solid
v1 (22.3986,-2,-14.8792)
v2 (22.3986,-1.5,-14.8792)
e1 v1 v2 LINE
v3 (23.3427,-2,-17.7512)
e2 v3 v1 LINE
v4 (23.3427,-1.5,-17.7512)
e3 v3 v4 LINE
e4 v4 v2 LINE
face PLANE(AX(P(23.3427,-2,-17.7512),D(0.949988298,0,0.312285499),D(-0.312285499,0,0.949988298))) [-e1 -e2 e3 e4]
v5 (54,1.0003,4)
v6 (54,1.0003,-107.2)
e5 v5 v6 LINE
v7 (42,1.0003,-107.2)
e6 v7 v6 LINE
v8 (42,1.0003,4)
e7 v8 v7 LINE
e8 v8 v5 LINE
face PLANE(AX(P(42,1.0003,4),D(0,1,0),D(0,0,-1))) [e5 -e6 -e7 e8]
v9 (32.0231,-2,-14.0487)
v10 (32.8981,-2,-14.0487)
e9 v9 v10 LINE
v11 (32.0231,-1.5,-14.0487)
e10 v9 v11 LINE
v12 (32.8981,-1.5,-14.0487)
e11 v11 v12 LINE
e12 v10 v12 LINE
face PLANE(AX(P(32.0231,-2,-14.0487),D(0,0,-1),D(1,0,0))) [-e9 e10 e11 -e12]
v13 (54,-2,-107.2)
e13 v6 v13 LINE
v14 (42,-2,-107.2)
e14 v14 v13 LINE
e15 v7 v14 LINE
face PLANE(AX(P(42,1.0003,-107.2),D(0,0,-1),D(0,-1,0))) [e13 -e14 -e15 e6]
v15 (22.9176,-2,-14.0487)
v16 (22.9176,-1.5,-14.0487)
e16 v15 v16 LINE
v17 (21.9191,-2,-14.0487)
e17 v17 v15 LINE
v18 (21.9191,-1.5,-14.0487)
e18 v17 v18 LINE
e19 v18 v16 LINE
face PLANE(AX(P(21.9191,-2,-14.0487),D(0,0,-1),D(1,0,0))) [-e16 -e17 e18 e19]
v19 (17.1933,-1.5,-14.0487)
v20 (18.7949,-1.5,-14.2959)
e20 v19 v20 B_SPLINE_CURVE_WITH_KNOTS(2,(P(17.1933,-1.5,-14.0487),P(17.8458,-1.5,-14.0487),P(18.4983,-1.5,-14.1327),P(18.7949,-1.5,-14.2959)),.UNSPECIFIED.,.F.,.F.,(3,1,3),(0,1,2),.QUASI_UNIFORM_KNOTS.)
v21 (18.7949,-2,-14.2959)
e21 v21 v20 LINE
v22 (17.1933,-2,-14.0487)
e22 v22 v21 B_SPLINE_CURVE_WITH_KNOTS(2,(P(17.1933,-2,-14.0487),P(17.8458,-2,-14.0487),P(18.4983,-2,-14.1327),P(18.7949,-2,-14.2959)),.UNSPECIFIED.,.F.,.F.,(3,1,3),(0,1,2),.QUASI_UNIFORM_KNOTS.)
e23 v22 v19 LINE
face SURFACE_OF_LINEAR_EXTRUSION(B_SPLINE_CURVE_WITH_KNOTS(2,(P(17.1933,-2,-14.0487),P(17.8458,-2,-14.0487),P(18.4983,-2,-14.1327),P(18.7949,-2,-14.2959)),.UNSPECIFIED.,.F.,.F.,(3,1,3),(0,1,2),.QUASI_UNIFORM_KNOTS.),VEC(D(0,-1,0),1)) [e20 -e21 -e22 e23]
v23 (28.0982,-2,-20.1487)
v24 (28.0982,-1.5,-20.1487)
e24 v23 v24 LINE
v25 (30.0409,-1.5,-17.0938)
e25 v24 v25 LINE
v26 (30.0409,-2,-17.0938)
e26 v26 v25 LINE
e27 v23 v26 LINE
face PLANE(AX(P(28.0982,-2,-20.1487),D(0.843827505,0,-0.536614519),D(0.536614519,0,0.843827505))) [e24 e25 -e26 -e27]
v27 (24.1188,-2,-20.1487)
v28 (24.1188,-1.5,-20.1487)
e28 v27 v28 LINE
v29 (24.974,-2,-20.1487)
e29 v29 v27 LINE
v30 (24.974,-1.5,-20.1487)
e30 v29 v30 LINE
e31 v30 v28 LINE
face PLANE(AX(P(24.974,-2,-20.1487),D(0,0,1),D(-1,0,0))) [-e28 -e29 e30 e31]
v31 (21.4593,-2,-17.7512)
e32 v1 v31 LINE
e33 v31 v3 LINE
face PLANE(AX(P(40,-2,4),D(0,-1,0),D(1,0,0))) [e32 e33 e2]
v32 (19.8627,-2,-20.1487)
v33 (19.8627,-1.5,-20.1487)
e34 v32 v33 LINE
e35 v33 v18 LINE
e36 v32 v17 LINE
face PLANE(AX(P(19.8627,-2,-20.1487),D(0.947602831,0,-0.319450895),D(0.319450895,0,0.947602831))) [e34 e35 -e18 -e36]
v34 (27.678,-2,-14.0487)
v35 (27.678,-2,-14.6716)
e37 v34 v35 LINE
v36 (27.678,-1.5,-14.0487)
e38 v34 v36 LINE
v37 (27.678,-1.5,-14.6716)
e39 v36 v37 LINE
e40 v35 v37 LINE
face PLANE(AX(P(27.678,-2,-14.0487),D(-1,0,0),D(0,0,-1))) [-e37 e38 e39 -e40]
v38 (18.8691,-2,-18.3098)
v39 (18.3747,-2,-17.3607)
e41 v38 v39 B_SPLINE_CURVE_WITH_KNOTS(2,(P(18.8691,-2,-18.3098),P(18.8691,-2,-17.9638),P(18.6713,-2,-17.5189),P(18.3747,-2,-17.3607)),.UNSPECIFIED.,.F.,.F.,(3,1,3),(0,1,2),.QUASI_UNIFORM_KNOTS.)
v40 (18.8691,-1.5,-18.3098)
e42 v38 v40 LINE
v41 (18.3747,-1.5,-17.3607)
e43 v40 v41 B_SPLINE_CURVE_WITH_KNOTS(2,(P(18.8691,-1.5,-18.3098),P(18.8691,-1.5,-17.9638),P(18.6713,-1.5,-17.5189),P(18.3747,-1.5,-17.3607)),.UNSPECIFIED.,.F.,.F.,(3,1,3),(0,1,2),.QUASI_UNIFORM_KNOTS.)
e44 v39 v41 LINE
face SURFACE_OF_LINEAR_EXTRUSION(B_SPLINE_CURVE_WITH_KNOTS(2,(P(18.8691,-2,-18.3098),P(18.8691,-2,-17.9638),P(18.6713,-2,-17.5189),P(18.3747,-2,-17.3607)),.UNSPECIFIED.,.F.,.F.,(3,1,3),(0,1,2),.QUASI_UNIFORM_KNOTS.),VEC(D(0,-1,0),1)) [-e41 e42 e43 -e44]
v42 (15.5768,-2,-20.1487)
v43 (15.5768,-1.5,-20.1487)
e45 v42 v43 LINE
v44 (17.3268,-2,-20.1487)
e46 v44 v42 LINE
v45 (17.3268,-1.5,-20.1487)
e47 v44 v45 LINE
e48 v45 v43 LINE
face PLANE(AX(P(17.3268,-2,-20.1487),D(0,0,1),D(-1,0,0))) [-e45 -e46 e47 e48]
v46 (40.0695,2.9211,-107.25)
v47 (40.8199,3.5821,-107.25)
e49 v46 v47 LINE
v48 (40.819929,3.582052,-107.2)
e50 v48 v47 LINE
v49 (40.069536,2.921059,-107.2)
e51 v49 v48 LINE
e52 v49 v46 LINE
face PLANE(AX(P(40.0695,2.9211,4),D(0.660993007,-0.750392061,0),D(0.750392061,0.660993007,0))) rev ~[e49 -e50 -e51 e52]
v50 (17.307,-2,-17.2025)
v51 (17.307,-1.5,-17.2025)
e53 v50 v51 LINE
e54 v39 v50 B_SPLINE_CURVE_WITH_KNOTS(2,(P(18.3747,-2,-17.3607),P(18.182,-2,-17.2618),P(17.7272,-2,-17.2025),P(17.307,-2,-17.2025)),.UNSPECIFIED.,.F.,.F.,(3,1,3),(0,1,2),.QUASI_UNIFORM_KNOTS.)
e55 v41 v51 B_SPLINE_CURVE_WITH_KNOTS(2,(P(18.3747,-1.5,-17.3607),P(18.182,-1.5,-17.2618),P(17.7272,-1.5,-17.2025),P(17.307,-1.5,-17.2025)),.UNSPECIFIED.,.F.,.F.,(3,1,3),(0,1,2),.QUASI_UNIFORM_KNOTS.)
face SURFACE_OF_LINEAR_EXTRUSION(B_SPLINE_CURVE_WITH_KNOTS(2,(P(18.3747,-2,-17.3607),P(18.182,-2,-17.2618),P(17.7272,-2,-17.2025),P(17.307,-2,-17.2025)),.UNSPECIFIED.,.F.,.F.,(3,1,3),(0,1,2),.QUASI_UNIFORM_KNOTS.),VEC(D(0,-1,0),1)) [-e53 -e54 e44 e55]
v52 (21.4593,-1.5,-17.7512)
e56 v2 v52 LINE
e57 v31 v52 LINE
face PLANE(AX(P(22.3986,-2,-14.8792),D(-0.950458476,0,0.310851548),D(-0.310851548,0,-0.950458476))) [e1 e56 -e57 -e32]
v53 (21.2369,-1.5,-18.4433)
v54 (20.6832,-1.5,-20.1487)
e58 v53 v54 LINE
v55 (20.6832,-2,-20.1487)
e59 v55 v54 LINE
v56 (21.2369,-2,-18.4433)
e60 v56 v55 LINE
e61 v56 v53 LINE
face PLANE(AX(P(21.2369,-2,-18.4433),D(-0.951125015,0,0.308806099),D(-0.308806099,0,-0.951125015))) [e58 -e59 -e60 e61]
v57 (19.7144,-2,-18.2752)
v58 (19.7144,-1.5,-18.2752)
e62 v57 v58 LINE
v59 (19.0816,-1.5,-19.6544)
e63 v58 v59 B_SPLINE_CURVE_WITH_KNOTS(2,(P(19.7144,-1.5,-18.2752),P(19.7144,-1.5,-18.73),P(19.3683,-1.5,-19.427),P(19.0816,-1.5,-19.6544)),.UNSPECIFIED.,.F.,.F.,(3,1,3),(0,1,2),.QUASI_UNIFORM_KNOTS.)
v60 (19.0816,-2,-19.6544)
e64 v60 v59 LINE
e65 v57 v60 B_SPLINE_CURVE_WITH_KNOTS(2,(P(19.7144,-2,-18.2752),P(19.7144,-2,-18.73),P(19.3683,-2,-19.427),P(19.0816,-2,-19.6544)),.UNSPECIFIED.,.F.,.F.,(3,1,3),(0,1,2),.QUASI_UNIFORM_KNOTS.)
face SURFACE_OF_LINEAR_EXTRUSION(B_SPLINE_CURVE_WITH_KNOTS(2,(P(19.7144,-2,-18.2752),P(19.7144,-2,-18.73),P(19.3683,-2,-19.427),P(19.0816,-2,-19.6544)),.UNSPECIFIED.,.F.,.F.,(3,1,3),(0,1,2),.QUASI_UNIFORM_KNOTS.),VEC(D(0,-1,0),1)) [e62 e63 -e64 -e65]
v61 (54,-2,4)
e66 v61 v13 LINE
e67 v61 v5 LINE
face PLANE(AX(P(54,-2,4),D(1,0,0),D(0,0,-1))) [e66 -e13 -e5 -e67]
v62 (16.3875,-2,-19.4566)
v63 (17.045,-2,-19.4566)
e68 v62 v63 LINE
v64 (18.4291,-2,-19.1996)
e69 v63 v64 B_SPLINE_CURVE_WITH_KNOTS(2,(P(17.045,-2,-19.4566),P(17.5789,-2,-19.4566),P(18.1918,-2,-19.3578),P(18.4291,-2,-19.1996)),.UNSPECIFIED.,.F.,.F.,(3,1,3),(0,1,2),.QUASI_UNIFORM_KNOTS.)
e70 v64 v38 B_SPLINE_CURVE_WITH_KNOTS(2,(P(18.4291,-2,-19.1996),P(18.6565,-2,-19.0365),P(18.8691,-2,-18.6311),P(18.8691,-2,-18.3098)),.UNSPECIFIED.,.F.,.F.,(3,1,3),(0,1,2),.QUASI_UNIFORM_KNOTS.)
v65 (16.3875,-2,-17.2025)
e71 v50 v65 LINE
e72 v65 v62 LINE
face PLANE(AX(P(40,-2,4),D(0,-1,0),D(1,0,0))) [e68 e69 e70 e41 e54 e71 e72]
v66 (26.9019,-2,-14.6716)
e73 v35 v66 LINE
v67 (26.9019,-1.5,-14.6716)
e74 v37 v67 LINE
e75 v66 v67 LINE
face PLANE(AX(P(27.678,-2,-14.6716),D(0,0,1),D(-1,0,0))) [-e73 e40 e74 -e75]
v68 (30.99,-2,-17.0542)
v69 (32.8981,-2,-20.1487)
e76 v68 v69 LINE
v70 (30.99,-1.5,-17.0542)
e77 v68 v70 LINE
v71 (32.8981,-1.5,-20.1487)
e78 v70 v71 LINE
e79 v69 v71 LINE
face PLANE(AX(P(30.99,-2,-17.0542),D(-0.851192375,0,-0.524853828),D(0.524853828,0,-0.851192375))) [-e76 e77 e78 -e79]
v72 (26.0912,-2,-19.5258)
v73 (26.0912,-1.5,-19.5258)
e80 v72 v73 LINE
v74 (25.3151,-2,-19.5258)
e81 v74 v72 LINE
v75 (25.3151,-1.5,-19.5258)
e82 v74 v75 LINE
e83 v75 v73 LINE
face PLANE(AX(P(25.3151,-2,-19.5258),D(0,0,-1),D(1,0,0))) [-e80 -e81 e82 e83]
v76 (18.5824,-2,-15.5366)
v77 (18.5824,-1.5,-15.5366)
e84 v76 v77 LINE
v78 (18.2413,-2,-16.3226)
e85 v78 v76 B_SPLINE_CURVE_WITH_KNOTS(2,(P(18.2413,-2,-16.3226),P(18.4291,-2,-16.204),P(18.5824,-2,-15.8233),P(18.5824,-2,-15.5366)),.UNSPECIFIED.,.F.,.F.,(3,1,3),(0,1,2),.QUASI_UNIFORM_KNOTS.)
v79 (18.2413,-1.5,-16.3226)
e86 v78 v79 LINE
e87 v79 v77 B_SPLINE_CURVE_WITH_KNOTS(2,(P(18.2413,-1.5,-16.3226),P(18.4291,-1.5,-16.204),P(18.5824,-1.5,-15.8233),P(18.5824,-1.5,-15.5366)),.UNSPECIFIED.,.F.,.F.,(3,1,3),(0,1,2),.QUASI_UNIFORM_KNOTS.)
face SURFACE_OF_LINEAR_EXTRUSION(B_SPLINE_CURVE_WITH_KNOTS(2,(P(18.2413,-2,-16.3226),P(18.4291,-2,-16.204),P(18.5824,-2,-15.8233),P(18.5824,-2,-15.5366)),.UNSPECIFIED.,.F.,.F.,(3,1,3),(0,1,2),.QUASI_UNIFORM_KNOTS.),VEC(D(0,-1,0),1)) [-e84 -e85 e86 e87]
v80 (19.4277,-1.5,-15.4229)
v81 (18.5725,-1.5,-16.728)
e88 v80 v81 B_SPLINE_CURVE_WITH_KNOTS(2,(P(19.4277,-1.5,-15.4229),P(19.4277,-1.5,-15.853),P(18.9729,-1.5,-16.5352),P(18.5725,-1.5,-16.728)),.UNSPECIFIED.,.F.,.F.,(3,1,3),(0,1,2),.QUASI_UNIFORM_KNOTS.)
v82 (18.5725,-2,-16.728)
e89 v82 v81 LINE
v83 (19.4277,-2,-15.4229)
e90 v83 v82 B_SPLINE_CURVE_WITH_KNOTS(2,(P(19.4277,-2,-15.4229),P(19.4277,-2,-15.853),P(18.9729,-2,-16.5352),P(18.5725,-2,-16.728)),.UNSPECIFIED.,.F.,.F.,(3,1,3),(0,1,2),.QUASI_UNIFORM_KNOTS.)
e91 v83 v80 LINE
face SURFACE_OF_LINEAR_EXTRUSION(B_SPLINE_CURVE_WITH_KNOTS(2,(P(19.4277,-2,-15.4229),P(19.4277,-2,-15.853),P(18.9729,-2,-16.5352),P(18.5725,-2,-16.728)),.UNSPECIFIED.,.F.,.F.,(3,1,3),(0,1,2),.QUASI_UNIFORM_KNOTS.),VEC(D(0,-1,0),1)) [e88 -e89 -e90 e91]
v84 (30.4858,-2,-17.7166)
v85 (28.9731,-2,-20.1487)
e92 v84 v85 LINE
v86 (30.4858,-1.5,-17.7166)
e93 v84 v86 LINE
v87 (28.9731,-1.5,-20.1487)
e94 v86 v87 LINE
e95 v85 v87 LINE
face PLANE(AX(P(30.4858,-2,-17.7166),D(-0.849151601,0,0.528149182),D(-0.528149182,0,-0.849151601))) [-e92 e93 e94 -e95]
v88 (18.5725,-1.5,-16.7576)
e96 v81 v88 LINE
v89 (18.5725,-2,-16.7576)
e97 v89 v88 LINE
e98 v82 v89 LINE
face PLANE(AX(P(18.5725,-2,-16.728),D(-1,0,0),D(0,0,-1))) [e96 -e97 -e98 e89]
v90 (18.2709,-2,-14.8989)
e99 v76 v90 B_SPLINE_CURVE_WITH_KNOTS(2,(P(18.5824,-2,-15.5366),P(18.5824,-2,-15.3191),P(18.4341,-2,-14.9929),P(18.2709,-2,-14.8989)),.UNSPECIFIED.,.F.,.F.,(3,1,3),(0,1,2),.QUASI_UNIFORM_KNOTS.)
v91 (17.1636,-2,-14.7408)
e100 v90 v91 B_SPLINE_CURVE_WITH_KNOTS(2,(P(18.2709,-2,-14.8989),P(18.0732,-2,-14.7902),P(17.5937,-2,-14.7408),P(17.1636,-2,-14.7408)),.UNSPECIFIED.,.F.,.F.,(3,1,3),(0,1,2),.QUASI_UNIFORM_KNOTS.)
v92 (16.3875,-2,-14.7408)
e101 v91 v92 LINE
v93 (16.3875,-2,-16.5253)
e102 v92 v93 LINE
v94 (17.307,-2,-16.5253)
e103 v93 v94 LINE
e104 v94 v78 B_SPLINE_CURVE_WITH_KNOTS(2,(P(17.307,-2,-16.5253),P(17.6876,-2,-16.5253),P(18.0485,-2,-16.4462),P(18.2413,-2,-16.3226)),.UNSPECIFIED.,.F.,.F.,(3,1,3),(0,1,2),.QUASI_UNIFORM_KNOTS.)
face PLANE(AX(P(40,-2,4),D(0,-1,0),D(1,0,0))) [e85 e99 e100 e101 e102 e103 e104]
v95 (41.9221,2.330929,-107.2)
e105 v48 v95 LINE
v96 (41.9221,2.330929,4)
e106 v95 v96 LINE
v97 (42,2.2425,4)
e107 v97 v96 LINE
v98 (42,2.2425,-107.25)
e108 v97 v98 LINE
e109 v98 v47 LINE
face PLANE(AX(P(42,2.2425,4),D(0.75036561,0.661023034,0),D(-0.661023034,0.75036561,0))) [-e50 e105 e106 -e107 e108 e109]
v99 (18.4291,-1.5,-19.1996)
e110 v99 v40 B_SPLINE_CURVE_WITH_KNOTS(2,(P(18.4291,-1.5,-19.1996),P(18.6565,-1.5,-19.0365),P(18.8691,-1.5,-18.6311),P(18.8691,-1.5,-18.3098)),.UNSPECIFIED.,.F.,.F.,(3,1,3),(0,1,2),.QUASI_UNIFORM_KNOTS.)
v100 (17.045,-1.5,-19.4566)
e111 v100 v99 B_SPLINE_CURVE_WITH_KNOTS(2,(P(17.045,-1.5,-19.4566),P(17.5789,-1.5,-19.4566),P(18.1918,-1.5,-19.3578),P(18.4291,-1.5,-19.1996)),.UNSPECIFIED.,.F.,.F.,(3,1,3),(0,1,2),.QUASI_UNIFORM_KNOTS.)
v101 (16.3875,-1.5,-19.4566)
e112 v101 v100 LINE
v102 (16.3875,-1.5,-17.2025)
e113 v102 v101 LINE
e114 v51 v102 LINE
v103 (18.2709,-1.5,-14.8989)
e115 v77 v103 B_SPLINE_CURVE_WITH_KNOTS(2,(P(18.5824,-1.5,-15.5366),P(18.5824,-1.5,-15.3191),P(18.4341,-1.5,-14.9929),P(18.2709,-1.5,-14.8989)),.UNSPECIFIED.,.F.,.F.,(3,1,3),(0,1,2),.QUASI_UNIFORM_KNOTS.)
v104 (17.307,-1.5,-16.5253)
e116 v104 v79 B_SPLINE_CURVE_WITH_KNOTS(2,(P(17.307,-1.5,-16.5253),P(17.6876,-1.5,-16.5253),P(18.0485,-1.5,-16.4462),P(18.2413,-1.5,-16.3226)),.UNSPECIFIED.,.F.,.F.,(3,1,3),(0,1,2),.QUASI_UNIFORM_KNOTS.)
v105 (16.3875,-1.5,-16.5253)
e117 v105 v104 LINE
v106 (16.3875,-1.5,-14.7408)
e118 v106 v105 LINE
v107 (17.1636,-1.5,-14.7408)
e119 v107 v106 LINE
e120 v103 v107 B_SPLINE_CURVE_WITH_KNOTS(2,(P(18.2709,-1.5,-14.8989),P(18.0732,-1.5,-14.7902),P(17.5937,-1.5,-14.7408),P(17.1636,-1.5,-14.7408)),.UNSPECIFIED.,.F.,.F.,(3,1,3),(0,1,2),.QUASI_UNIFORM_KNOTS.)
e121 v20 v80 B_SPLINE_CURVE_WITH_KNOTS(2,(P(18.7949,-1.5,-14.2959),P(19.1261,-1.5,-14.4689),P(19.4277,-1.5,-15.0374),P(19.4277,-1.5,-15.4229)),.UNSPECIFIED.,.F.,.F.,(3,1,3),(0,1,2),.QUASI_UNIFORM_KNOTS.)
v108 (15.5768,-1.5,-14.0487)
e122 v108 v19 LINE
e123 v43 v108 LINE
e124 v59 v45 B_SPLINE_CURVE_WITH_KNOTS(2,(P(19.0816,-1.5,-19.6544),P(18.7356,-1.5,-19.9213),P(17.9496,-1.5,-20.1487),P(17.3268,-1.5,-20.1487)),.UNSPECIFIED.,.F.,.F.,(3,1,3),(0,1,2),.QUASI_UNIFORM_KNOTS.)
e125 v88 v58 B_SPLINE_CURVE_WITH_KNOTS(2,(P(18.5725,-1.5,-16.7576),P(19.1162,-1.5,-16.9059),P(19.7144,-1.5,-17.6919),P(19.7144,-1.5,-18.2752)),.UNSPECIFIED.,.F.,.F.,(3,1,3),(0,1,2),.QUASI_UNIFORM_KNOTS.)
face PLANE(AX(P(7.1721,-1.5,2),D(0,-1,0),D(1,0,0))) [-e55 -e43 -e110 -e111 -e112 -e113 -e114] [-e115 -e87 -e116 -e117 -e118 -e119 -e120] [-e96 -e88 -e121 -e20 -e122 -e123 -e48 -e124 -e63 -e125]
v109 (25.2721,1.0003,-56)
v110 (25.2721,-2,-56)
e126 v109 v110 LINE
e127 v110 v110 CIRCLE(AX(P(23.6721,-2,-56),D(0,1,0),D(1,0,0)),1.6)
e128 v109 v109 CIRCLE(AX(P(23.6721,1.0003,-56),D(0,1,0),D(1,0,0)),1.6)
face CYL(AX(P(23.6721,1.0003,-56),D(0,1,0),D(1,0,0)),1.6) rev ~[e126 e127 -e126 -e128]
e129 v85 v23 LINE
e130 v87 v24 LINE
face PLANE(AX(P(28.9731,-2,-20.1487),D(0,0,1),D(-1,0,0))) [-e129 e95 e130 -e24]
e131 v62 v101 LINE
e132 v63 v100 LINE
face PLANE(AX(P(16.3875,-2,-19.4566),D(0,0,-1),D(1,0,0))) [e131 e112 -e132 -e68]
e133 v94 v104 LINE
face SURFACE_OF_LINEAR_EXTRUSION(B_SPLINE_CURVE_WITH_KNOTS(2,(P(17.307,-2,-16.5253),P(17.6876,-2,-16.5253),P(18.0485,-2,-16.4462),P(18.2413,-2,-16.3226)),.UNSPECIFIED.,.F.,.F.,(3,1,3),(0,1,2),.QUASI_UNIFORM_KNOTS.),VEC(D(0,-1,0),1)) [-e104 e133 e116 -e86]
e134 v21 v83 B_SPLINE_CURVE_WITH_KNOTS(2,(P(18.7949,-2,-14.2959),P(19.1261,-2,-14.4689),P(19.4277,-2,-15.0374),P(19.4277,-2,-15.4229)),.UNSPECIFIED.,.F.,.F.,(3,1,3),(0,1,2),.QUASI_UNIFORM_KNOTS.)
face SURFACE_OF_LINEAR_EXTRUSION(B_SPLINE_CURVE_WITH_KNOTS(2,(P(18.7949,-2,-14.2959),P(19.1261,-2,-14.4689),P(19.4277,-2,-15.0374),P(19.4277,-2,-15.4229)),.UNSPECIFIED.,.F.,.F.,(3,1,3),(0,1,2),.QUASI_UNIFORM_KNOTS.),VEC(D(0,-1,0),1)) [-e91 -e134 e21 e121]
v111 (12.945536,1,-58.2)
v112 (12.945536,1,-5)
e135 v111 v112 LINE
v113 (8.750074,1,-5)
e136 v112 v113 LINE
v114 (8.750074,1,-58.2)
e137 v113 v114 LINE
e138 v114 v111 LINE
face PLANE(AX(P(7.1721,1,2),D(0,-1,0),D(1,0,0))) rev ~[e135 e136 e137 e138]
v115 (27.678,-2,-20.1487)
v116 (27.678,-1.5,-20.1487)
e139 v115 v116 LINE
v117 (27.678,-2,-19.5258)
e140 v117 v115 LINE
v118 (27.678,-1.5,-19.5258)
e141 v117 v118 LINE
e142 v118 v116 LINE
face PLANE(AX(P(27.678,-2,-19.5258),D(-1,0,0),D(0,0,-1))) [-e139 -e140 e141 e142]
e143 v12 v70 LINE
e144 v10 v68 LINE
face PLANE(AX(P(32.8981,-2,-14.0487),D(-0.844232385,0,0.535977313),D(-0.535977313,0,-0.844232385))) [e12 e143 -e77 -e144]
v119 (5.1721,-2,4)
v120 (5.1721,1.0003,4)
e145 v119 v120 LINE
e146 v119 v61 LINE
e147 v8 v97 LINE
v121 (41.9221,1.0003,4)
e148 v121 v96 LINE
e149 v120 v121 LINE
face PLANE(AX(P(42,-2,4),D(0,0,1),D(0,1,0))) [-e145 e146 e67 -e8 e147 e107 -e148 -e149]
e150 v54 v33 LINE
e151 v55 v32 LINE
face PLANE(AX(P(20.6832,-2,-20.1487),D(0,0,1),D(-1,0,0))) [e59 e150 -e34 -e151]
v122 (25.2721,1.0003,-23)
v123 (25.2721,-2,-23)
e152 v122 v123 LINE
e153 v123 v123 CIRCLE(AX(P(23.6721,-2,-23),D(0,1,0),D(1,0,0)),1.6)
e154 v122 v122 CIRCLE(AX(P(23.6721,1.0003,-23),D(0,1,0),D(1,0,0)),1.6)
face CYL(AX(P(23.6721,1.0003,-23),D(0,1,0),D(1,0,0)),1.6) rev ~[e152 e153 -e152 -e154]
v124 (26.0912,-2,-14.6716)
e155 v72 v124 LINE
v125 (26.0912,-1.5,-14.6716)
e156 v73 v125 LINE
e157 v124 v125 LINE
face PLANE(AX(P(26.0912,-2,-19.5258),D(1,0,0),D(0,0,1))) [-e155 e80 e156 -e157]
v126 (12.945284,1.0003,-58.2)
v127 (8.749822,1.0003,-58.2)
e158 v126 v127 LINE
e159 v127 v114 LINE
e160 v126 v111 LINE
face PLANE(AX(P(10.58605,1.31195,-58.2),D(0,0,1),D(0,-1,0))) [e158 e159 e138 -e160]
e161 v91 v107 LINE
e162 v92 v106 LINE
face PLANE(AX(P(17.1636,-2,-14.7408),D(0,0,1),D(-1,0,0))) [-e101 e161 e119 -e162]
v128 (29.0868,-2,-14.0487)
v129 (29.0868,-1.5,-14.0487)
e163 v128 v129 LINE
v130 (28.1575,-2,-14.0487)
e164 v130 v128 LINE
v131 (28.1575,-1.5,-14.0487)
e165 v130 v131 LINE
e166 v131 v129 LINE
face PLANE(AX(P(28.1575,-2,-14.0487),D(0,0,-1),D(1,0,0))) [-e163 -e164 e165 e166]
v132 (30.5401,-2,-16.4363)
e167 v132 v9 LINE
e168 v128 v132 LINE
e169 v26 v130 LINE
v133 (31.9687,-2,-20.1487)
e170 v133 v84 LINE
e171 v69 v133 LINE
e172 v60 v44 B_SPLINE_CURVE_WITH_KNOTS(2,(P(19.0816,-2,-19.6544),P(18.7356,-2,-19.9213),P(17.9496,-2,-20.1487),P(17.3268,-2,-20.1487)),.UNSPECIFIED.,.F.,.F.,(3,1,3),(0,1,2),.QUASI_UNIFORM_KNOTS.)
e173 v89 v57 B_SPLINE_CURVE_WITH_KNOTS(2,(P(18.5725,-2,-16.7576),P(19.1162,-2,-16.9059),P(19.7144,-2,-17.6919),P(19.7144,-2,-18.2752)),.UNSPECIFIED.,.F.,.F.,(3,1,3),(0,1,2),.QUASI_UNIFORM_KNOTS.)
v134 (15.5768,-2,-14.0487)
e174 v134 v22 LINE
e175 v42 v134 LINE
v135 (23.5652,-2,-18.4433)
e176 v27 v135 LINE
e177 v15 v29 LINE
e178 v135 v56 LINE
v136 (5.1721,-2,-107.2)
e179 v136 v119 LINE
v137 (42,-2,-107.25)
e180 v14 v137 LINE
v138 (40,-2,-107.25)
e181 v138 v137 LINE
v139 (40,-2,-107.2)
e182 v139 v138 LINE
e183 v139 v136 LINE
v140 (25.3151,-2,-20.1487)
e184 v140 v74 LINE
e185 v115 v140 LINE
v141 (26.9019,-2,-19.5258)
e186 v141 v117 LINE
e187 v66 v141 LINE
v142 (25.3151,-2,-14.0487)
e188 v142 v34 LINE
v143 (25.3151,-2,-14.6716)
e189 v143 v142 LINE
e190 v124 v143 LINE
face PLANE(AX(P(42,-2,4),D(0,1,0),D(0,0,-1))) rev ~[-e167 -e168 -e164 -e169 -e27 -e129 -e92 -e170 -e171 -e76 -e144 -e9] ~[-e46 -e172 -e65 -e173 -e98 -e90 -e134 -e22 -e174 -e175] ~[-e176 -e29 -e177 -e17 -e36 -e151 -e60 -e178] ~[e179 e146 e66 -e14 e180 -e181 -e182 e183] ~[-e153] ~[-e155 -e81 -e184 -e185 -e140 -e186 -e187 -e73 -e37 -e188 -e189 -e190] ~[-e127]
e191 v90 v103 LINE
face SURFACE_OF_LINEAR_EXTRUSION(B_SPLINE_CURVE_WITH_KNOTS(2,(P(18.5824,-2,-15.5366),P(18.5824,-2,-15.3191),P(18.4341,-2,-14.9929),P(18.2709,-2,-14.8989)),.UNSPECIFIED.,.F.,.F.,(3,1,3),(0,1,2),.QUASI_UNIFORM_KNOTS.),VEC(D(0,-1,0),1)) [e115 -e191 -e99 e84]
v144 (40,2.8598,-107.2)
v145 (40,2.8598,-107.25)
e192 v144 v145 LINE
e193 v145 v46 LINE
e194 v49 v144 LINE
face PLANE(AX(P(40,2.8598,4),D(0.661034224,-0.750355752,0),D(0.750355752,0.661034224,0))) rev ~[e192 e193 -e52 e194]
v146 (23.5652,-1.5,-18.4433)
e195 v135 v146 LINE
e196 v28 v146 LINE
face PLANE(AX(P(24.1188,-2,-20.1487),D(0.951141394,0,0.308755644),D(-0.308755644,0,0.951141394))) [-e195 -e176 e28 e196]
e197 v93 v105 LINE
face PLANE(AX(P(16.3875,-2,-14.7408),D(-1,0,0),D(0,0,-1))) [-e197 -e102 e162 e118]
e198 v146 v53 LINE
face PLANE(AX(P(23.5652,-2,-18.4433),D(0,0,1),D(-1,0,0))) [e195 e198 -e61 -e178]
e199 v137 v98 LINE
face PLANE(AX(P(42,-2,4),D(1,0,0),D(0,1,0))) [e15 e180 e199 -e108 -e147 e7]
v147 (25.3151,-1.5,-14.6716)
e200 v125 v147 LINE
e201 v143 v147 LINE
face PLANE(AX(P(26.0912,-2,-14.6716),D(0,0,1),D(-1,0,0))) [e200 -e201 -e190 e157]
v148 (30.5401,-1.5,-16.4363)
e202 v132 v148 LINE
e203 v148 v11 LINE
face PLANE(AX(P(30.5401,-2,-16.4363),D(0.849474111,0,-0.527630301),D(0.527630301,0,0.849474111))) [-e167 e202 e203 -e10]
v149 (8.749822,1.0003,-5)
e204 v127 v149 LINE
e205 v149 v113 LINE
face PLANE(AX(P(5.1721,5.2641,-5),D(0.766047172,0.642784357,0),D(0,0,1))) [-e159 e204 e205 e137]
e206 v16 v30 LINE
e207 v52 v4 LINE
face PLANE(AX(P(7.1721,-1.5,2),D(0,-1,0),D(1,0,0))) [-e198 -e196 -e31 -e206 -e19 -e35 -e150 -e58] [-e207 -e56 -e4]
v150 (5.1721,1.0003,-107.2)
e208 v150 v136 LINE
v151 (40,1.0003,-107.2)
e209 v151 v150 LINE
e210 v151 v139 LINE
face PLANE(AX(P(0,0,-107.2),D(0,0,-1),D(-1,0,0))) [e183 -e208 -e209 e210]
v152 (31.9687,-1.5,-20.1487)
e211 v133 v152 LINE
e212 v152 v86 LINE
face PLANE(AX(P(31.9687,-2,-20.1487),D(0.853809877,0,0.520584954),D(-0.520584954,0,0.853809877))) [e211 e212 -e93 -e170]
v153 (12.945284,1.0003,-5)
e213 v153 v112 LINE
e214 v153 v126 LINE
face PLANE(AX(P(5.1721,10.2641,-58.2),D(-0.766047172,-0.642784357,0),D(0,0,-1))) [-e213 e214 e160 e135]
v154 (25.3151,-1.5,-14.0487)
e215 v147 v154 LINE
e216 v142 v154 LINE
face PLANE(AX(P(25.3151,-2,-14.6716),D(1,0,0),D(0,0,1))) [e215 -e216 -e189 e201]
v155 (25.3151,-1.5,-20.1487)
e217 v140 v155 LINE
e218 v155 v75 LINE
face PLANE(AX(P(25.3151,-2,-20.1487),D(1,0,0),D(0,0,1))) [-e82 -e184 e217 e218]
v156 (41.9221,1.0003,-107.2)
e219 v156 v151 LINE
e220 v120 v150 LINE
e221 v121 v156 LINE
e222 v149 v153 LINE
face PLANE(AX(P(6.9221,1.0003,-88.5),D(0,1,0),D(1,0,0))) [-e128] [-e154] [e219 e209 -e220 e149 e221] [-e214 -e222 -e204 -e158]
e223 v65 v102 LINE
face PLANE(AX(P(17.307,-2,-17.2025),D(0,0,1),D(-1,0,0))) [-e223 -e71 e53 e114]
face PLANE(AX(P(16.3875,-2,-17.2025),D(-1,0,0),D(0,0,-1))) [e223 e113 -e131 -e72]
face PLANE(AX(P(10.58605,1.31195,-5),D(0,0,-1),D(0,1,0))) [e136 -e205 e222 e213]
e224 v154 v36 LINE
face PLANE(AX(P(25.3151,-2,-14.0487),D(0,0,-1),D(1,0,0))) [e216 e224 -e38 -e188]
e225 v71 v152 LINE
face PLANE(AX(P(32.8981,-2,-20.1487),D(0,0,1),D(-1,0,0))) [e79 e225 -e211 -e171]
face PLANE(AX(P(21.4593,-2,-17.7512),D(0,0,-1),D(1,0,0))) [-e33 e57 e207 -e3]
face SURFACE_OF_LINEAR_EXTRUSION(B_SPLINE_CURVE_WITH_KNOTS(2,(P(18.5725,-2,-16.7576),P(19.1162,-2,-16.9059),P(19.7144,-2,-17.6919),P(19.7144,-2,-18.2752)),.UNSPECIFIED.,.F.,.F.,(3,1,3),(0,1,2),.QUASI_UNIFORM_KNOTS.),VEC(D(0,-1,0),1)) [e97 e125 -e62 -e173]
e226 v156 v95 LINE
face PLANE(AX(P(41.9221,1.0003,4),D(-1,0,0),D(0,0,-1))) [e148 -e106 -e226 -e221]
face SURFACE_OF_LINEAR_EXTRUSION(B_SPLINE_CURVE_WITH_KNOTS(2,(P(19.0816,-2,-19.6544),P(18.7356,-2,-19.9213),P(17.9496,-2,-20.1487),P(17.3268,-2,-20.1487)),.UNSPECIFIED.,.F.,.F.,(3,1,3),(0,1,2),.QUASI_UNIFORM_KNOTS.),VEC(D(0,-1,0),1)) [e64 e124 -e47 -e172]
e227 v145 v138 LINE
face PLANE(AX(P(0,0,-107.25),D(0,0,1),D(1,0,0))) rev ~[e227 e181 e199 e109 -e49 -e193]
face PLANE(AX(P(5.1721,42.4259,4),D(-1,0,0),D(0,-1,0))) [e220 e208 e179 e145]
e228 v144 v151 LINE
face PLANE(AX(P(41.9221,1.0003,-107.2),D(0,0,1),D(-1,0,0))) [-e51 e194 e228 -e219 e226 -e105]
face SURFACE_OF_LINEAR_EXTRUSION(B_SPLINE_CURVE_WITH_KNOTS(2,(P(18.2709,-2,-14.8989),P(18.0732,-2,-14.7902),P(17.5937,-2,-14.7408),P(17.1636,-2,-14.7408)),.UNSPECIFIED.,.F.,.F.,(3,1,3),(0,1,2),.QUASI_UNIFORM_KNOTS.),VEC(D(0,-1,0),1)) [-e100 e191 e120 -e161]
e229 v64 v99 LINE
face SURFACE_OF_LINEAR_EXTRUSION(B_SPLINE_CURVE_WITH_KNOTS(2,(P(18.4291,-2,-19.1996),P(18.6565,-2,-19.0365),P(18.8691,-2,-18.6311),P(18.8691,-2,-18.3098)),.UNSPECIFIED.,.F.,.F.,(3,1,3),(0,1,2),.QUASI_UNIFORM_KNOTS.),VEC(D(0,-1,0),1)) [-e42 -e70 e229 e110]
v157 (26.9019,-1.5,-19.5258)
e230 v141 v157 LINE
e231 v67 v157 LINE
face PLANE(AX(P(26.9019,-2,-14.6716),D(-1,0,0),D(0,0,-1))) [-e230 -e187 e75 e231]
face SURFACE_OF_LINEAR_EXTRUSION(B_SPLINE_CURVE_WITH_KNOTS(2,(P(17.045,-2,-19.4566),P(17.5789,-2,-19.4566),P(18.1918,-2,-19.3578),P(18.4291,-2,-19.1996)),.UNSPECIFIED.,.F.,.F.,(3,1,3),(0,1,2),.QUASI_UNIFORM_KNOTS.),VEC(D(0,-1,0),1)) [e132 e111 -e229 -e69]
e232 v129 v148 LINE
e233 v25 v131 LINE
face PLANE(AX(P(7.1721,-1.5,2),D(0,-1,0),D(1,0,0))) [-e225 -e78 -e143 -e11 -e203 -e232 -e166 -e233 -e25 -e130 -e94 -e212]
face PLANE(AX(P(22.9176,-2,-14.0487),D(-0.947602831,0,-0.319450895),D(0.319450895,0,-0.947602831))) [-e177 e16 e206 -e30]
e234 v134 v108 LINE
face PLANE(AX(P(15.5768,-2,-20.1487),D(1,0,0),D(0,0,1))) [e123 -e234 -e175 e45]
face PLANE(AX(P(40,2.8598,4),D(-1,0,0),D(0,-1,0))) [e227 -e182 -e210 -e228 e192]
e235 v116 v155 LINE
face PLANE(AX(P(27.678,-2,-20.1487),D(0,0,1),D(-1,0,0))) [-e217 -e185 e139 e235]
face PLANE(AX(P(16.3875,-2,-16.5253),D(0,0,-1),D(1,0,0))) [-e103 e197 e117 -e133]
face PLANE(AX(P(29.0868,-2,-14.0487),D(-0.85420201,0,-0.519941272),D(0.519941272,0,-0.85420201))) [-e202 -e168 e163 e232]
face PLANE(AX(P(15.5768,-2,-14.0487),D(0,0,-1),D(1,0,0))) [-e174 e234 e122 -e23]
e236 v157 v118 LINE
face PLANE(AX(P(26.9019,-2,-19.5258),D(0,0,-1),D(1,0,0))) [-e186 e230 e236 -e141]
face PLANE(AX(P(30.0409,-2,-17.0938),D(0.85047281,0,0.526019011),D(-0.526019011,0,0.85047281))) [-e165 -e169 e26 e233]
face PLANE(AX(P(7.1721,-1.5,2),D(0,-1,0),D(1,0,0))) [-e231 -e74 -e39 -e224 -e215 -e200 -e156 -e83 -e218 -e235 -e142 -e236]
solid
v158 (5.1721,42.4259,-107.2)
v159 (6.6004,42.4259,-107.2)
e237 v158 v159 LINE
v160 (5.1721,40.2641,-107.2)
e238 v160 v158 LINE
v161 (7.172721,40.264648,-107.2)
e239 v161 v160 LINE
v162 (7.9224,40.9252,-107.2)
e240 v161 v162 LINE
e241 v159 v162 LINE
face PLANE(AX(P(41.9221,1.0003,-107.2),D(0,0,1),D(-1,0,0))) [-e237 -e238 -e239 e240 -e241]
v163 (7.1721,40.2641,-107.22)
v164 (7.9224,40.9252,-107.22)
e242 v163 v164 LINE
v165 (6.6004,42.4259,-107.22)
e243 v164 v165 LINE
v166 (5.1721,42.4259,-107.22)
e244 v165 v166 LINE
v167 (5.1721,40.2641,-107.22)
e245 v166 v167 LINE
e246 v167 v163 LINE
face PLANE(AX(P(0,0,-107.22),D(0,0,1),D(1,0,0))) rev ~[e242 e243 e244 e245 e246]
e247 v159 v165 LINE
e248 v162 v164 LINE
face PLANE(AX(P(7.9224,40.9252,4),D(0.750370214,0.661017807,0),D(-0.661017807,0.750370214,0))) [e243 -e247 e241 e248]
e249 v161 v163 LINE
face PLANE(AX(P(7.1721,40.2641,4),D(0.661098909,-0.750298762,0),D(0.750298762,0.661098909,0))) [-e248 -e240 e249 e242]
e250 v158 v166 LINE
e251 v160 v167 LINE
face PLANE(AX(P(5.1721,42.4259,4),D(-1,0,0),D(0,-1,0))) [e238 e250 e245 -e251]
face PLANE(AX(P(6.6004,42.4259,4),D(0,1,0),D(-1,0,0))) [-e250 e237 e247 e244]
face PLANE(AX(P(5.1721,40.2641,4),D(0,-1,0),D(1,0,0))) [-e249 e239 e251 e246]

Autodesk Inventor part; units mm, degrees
ref_plane "YZ Plane" through (0, 0, 0) normal (1, 0, 0) x (0, 1, 0)
ref_plane "XZ Plane" through (0, 0, 0) normal (0, 1, 0) x (-1, 0, 0)
ref_plane "XY Plane" through (0, 0, 0) normal (0, 0, 1) x (1, 0, 0)
sketch "Boceto3" plane through (0, 0, 0) normal (0, 0, 1) x (1, 0, 0)
  line L0 (40, 0) -> (37, 0)
  line L1 (0, 0) -> (0, 45)
  line L2 (0, 45) -> (3, 45)
  line L3 (40, 0) -> (40, 3)
  line L4 (40, 3) -> (3, 45)
  line L5 (0, 0) -> (40, 0)
  dimension "d3" = 3
  dimension "d4" = 45
  dimension "d5" = 3
  dimension "d6" = 3
extrude "Extrusión1" add sketch "Boceto3" against normal blind 98.2
sketch "Boceto4" plane through (0, 0, 0) normal (0, 0, 1) x (1, 0, 0)
  line L0 (3.3154, 41.6201) -> (2, 43)
  line L1 (3.3154, 41.6201) -> (38, 2)
  line L2 (38, 2) -> (2, 2)
  line L3 (2, 2) -> (2, 43)
  point P0 (0, 45)
extrude "Extrusión2" cut sketch "Boceto4" against normal blind 210.55
sketch "Boceto6" plane through (0, 0, 0) normal (0, 0, 1) x (1, 0, 0)
  line L0 (1.0395, 0.9992) -> (39.0395, 0.9992)
  line L1 (39.0395, 1.0003) -> (39.0395, 1.9993) projected
  line L2 (39.0395, 0.9992) -> (39.0395, 1.9993)
  line L3 (39.0395, 1.9993) -> (3, 44.0003)
  line L4 (2.88, 44.0003) -> (1, 44.0003) projected
  line L5 (3, 44.0003) -> (1, 44.0003)
  line L6 (1, 1.0003) -> (39.0395, 1.0003) projected
  line L7 (1, 44.0003) -> (1, 1.0003)
  point P0 (0, 0)
extrude "Extrusión3" add sketch "Boceto6" against normal blind 2
sketch "Boceto7" plane through (0, 0, -98.2) normal (0, 0, -1) x (-1, 0, 0)
  line L0 (-1, 1.0003) -> (-39.0395, 1.0003) projected
  line L1 (-1, 1.0003) -> (-39.0395, 1.0003)
  line L2 (-39.0395, 1.0003) -> (-39.0395, 2)
  line L3 (-39.0395, 1.9993) -> (-2.88, 44.0003) projected
  line L4 (-39.0395, 2) -> (-2.88, 44.0003)
  line L5 (-2.88, 44.0003) -> (-1, 44.0003) projected
  line L6 (-1, 44.0003) -> (-1, 1.0003)
  line L7 (-2.88, 44.0003) -> (6.9067, 55.3678)
  line L8 (6.9067, 55.3678) -> (10.1689, 59.157)
  line L9 (10.1689, 59.157) -> (10.1689, 0)
  line L10 (10.1689, 0) -> (0, 0)
  dimension "d68" = 15
  dimension "d70" = 5
extrude "Extrusión4" add sketch "Boceto7" against normal blind 2
sketch "Boceto10" plane through (0, 0, -96.2) normal (0, 0, 1) x (1, 0, 0)
  line L0 (20.1691, 1.0003) -> (21.6691, 1.0003)
  line L1 (39.0395, 1.0003) -> (1, 1.0003) projected
  line L2 (21.6691, 1.0003) -> (21.6691, 22.1759)
  line L3 (2.88, 44.0003) -> (39.0395, 1.9993) projected
  line L4 (21.6691, 22.1759) -> (20.1691, 23.9182)
  line L5 (20.1691, 23.9182) -> (20.1691, 1.0003)
  point P0 (0, 0)
  dimension "d49" = 1.5
extrude "Extrusión7" add sketch "Boceto10" along normal blind 96
sketch "Boceto15" plane through (0, 0, -98.2) normal (0, 0, -1) x (-1, 0, 0)
  line L0 (-3, 45) -> (-40, 3) projected
  line L1 (-20.3927, 25.257) -> (-7.1721, 40.2641)
  line L2 (-7.1721, 40.2641) -> (-7.1721, 0)
  line L3 (-20.1691, 1.0003) -> (-1, 1.0003) projected
  line L4 (-7.1721, 40.2641) -> (-3, 45)
  line L5 (0, 45) -> (-3, 45)
  line L6 (0, 0) -> (0, 45) projected
  line L7 (0, 45) -> (0, 0)
  line L8 (0, 0) -> (-7.1721, 0)
  line L9 (-40, 0) -> (0, 0) projected
  dimension "d71" = 20
extrude "Extrusión9" cut sketch "Boceto15" against normal blind 617.4
sketch "Boceto16" plane through (0, 0, -96.2) normal (0, 0, 1) x (1, 0, 0)
  line L0 (7.1721, 1) -> (8.6721, 1.0003)
  line L1 (20.1691, 1.0003) -> (7.1721, 1.0003) projected
  line L2 (8.6721, 1.0003) -> (8.6721, 37.2725)
  line L3 (7.1721, 39.0149) -> (20.1691, 23.9182) projected
  line L4 (8.6721, 37.2725) -> (7.1721, 39.0149)
  line L5 (7.1721, 39.0149) -> (7.1721, 1)
  point P0 (0, 0)
  dimension "d74" = 1.5
extrude "Extrusión10" add sketch "Boceto16" along normal blind 95.4
sketch "Boceto17" plane through (0, 0, 0) normal (0, 0, 1) x (1, 0, 0)
  line L0 (20.1691, 1.0003) -> (8.6721, 1.0003) projected
  line L1 (8.6721, 35.5011) -> (8.6721, 2) projected
  line L2 (8.6721, 1.0003) -> (8.6721, 37.2725)
  line L3 (39.0395, 1.9993) -> (21.6691, 22.1759) projected
  line L4 (8.6721, 37.2725) -> (39.0395, 1.9993)
  line L5 (39.0395, 1.9993) -> (39.0395, 1.0003)
  line L6 (39.0395, 1.0003) -> (8.6721, 1.0003)
  line L7 (40, 0) -> (7.1721, 0) projected
  point P0 (0, 0)
extrude "Extrusión11" cut sketch "Boceto17" against normal blind 235.6
sketch "Boceto21" plane through (40, 3, 0) normal (0.7504, 0.661, 0) x (0, 0, -1)
  line L0 (5, 24.1901) -> (5, 36.1901)
  line L1 (5, 36.1901) -> (5, 12.1901)
  line L2 (76, 36.1901) -> (5, 36.1901)
  line L3 (85, 24.1901) -> (85, 18.1901)
  line L4 (85, 18.1901) -> (91, 18.1901)
  line L5 (91, 18.1901) -> (97, 18.1901)
  line L6 (97, 18.1901) -> (97, 30.1901)
  line L7 (97, 30.1901) -> (85, 30.1901)
  line L8 (85, 30.1901) -> (85, 24.1901)
  line L9 (76, 24.1901) -> (81, 24.1901)
  line L10 (81, 24.1901) -> (85, 24.1901)
  line L11 (76, 36.1901) -> (77, 36.1901)
  line L12 (77, 36.1901) -> (77, 12.1901)
  line L13 (77, 12.1901) -> (76, 12.1901)
  line L14 (77, 12.1901) -> (77, 11.1901)
  line L15 (77, 11.1901) -> (5, 11.1901)
  line L16 (5, 11.1901) -> (5, 12.1901)
  point P0 (0, 24.1901)
  dimension "d114" = 5
  dimension "d176" = 1
  dimension "d177" = 1
extrude "Extrusión13" cut sketch "Boceto21" against normal blind 1.5
sketch "Boceto22" plane through (0, 0, 0) normal (0, 0, 1) x (1, 0, 0)
  line L0 (8.6721, 1.0003) -> (39.0395, 1.0003) projected
  line L1 (8.6721, 1.0003) -> (39.0395, 1.0003)
  line L2 (39.0395, 1.0003) -> (39.0395, 2)
  line L3 (39.0395, 2) -> (8.6721, 37)
  line L4 (8.6721, 37.2725) -> (8.6721, 1.0003) projected
  line L5 (8.6721, 37) -> (8.6721, 1.0003)
  line L6 (7.1721, 0) -> (7.1721, 40.2641) projected
  line L7 (7.1721, 40.2641) -> (7.1721, 0)
  line L8 (40, 3) -> (40, 0) projected
  line L9 (7.1721, 0) -> (40, 0)
  line L10 (40, 0) -> (40, 3)
  line L11 (40, 3) -> (7.1721, 40.2641)
  line L12 (7.1721, 40.2641) -> (40, 3) projected
  point P0 (0, 0)
extrude "Extrusión14" add sketch "Boceto22" along normal blind 2
sketch "Boceto24" plane through (0, 0, 2) normal (0, 0, 1) x (1, 0, 0)
  line L0 (8.6721, 1.0003) -> (8.6721, 37) projected
  line L1 (39.0395, 1.0003) -> (8.6721, 1.0003) projected
  line L2 (8.6721, 1.0003) -> (39.0395, 1.0003)
  line L3 (39.0395, 1.0003) -> (39.0395, 2)
  line L4 (39.0395, 2) -> (8.6721, 37)
  line L5 (8.6721, 37) -> (8.6721, 1.0003)
  point P0 (0, 0)
extrude "Extrusión15" add sketch "Boceto24" against normal blind 2
sketch "Boceto25" plane through (0, 0, -98.2) normal (0, 0, -1) x (-1, 0, 0)
  line L0 (-8.6721, 1.0003) -> (-8.6721, 37.2725) projected
  line L1 (-8.6721, 1.0003) -> (-8.6721, 37.2725)
  line L2 (-8.6721, 37.2725) -> (-39, 2)
  line L3 (-39, 2) -> (-39, 1.0003)
  line L4 (-39, 1.0003) -> (-8.6721, 1.0003)
  line L5 (-7.1721, 0) -> (-40, 0) projected
  line L6 (-7.1721, 40) -> (-7.1721, 0)
  line L7 (-40, 0) -> (-7.1721, 0)
  line L8 (-40, 0) -> (-40, 2.8598)
  line L9 (-7.1721, 0) -> (-7.1721, 40.2641) projected
  line L10 (-40, 2.8598) -> (-7.1721, 40.2641)
  point P0 (0, 0)
extrude "Extrusión16" add sketch "Boceto25" along normal blind 7
sketch "Boceto27" plane through (0, 0, -105.2) normal (0, 0, -1) x (-1, 0, 0)
  line L0 (-8.6721, 1.0003) -> (-39.0395, 1.0003) projected
  line L1 (-8.6721, 1.0003) -> (-39.0395, 1.0003)
  line L2 (-39.0395, 1.0003) -> (-39.0395, 1.9993)
  line L3 (-8.6721, 1.0003) -> (-8.6721, 37.2725) projected
  line L4 (-39.0395, 1.9993) -> (-8.6721, 37.2725)
  line L5 (-8.6721, 37.2725) -> (-8.6721, 1.0003)
  point P0 (0, 0)
extrude "Extrusión17" add sketch "Boceto27" against normal blind 2
sketch "Boceto28" plane through (7.1721, 0, 2) normal (0, -1, 0) x (1, 0, 0)
  line L0 (0, 0) -> (0, -107.2) projected
  line L1 (32.8279, 0) -> (32.8279, -107.2) projected
  line L2 (0, 0) -> (32.8279, 0)
  line L3 (32.8279, 0) -> (32.8279, -107.2)
  line L4 (32.8279, -107.2) -> (0, -107.2)
  line L5 (0, -107.2) -> (0, 0)
  point P0 (-7.1721, -2)
extrude "Extrusión18" add sketch "Boceto28" along normal blind 2
sketch "Boceto29" plane through (7.1721, 40.2641, -98.2) normal (-1, 0, 0) x (0, 0, 1)
  line L0 (0, 0) -> (-7, 0) projected
  line L1 (100.2, -37.2641) -> (100.2, -42.2641) projected
  line L2 (-7, 0) -> (100.2, 0)
  line L3 (100.2, 0) -> (100.2, -42.2641)
  line L4 (100.2, -42.2641) -> (-7, -42.2641)
  line L5 (-7, -42.2641) -> (-7, 0)
  point P0 (98.2, -40.2641)
extrude "Extrusión19" add sketch "Boceto29" along normal blind 2
sketch "Boceto30" plane through (0, 0, -105.2) normal (0, 0, -1) x (-1, 0, 0)
  line L0 (-7.1721, 40.2641) -> (-5.1721, 40.2641)
  line L1 (-5.1721, 40.2641) -> (-5.1721, -2) projected
  line L2 (-5.1721, 40.2641) -> (-5.1721, -2)
  line L3 (-40, -2) -> (-5.1721, -2) projected
  line L4 (-5.1721, -2) -> (-40, -2)
  line L5 (-40, 2.8598) -> (-40, -2) projected
  line L6 (-40, -2) -> (-40, 2.8598)
  line L7 (-40, 2.8598) -> (-7.1721, 40.2641)
  line L8 (-7.1721, 40.2641) -> (-5.1721, 40.2641)
  point P0 (0, 0)
extrude "Extrusión20" add sketch "Boceto30" along normal blind 2
sketch "Boceto31" plane through (0, 0, 2) normal (0, 0, 1) x (1, 0, 0)
  line L0 (5.1721, -2) -> (5.1721, 40.2641) projected
  line L1 (5.1721, 40.2643) -> (5.1721, -2)
  line L2 (40, -2) -> (5.1721, -2) projected
  line L3 (5.1721, -2) -> (40, -2)
  line L4 (40, 2.8598) -> (40, -2) projected
  line L5 (40, -2) -> (40, 2.8598)
  line L6 (40, 2.8598) -> (7.1721, 40.2641) projected
  line L7 (7.1721, 40.2641) -> (40, 2.8598)
  line L8 (7.1721, 40.2641) -> (5.1721, 40.2641)
  point P0 (0, 0)
extrude "Extrusión21" add sketch "Boceto31" along normal blind 2
sketch "Boceto32" plane through (40, 3, 2) normal (0.7504, 0.661, 0) x (0, 0, -1)
  line L0 (-2, 49.6617) -> (-2, 0)
  line L1 (-2, 0) -> (109.2, 0)
  line L2 (109.2, -3.7518) -> (109.2, 19.2705) projected
  line L3 (100.2, -0.1052) -> (109.2, -0.1052) projected
  line L4 (109.2, 49.6617) -> (109.2, -0.1052)
  line L5 (109.2, 49.6617) -> (-2, 49.6617)
  line L6 (-2, 50.9838) -> (-2, 19.2705) projected
  line L7 (7, 11.1901) -> (7, 36.1901) projected
  line L8 (7, 36.1901) -> (7, 12.1901)
  line L9 (78, 36.1901) -> (7, 36.1901)
  line L10 (87, 30.1901) -> (99, 30.1901) projected
  line L11 (87, 18.1901) -> (87, 30.1901) projected
  line L12 (87, 30.1901) -> (87, 18.1901)
  line L13 (99, 30.1901) -> (99, 18.1901) projected
  line L14 (87, 18.1901) -> (99, 18.1901)
  line L15 (99, 18.1901) -> (99, 30.1901)
  line L16 (100.2, 49.6617) -> (109.2, 49.6617) projected
  line L17 (109.2, 49.6617) -> (109.2, -0.1052)
  line L18 (-2, -3.7518) -> (-2, -0.1052) projected
  line L19 (109.2, -0.1052) -> (-2, -0.1052)
  line L20 (-2, -0.1052) -> (-2, 49.6617)
  line L21 (109.2, 49.6617) -> (-2, 49.6617)
  line L22 (87, 30.1901) -> (99, 30.1901)
  line L23 (7, 12.1901) -> (7, 11.1901)
  line L24 (7, 11.1901) -> (79, 11.1901)
  line L25 (79, 11.1901) -> (79, 36.1901)
  line L26 (79, 36.1901) -> (78, 36.1901)
  point P0 (2, 24.1901)
  dimension "d174" = 1
  dimension "d175" = 72
extrude "Extrusión22" add sketch "Boceto32" along normal blind 1
sketch "Boceto33" plane through (40.7504, 3.661, 2) normal (0.7504, 0.661, 0) x (0, 0, -1)
  line L0 (87, 30.1901) -> (87, 18.1901) projected
  line L1 (87, 30.1901) -> (99, 30.1901) projected
  line L2 (87, 30.1901) -> (99, 30.1901)
  line L3 (99, 30.1901) -> (99, 18.1338)
  line L4 (100.2, -0.1052) -> (100.2, 49.6617) projected
  line L5 (99, 18.1338) -> (87, 18.1338)
  line L6 (87, 30.1901) -> (87, 34.1901)
  line L7 (87, 34.1901) -> (83, 34.1901)
  line L8 (99, 18.1901) -> (99, 14.1901)
  line L9 (99, 14.1901) -> (103, 14.1901)
  line L10 (83, 34.1901) -> (103, 34.1901)
  line L11 (103, 34.1901) -> (103, 14.1901)
  line L12 (103, 14.1901) -> (83, 14.1901)
  line L13 (83, 14.1901) -> (83, 34.1901)
  point P0 (2, 24.1901)
  dimension "d126" = 4
  dimension "d127" = 4
  dimension "d129" = 4
  dimension "d130" = 4
extrude "Extrusión23" add sketch "Boceto33" against normal blind 2.5
sketch "Boceto34" plane through (40.7504, 3.661, 2) normal (0.7504, 0.661, 0) x (0, 0, -1)
  line L0 (99, 18.1901) -> (99, 30.1901)
  line L1 (99, 18.1901) -> (87, 18.1901)
  line L2 (87, 18.1901) -> (87, 30.1901)
  line L3 (99, 30.1901) -> (99, 18.1901)
  line L4 (99, 30.1901) -> (99, 18.1901)
  line L5 (87, 18.1901) -> (99, 18.1901)
  line L6 (99, 30.1901) -> (99, 31.1901)
  line L7 (99, 31.1901) -> (87, 31.1901)
  line L8 (87, 31.1901) -> (87, 30.1901)
  point P0 (2, 24.1901)
  point P1 (83, 34.1901)
  dimension "d173" = 1
extrude "Extrusión24" cut sketch "Boceto34" against normal blind 6
sketch "Boceto35" plane through (40.0695, 2.9211, 4) normal (0, 0, 1) x (0.7504, 0.661, 0)
  line L0 (0, 49.7669) -> (1, 49.7669) projected
  line L1 (1, 49.7669) -> (0, 49.7669)
  line L2 (0, 49.7669) -> (0, 0)
  line L3 (0, 0) -> (1, 0) projected
  line L4 (0, 0) -> (1, 0)
  line L5 (1, 0) -> (1, 49.7669)
  point P0 (-31.9975, 24.2953)
extrude "Extrusión25" cut sketch "Boceto35" against normal blind 0.0001
sketch "Boceto36" plane through (0, 0, 4) normal (0, 0, 1) x (1, 0, 0)
  line L0 (5.1721, 40.2641) -> (7.1721, 40.2641) projected
  line L1 (7.1721, 40.2641) -> (40, 2.8598) projected
  line L2 (5.1721, 40.2641) -> (7.1721, 40.2641)
  line L3 (7.1721, 40.2641) -> (7.9224, 40.9252) projected
  line L4 (7.1721, 40.2641) -> (7.9224, 40.9252)
  line L5 (7.9224, 40.9252) -> (6.6004, 42.4259)
  line L6 (6.6004, 42.4259) -> (5.1721, 42.4259)
  line L7 (5.1721, -2) -> (5.1721, 40.2641) projected
  line L8 (5.1721, 42.4259) -> (5.1721, 40.2641)
  point P0 (0, 0)
  dimension "d140" = 2
extrude "Extrusión26" add sketch "Boceto36" against normal blind 111.22
sketch "Boceto37" plane through (0, 0, 4) normal (0, 0, 1) x (1, 0, 0)
  line L0 (40.0695, 2.9211) -> (7.1721, 40.2641) projected
  line L1 (40.0695, 2.9211) -> (39.9946, 2.8551)
  line L2 (39.9946, 2.8551) -> (7.1346, 40.2311)
  line L3 (7.1721, 40.2641) -> (7.9224, 40.9252) projected
  line L4 (7.1346, 40.2311) -> (7.9224, 40.9252)
  line L5 (7.9224, 40.9252) -> (40.0695, 2.9211)
  point P0 (0, 0)
extrude "Extrusión27" add sketch "Boceto37" against normal blind 2 contours L1 L2 L4 L0
sketch "Boceto38" plane through (0, 0, 4) normal (0, 0, 1) x (1, 0, 0)
  line L0 (40, 2.8598) -> (40, -2) projected
  line L1 (40, -2) -> (40, 2.8598)
  line L2 (40.0695, 2.9211) -> (40.8199, 3.5821) projected
  line L3 (40, 2.8598) -> (40.8199, 3.5821)
  line L4 (40, -2) -> (42, -2)
  line L5 (42, -2) -> (42, 2.2425)
  line L6 (42, 2.2425) -> (40.8199, 3.5821)
  point P0 (0, 0)
extrude "Extrusión28" add sketch "Boceto38" against normal blind 111.25
sketch "Boceto39" plane through (0, 0, -107.2) normal (0, 0, -1) x (-1, 0, 0)
  line L0 (-40.0695, 2.9211) -> (-40.8199, 3.5821) projected
  line L1 (-40.0695, 2.9211) -> (-40, 2.8598)
  line L2 (-40.0695, 2.9211) -> (-7.1721, 40.2641) projected
  line L3 (-40, 2.8598) -> (-7.1721, 40.2641)
  line L4 (-7.1721, 40.2641) -> (-40.0695, 2.9211)
  line L5 (-40.0695, 2.9211) -> (-40, 2.8598)
  point P0 (0, 0)
extrude "Extrusión29" add sketch "Boceto39" against normal blind 2
sketch "Boceto40" plane through (7.1721, -2, 2) normal (0, -1, 0) x (1, 0, 0)
  line L0 (7.7868, -16.0487) -> (16.7678, -16.0487) construction
  line L1 (16.7678, -16.0487) -> (16.7678, -19.0967) construction
  line L2 (16.7678, -19.0967) -> (7.7868, -19.0967) construction
  line L3 (7.7868, -19.0967) -> (7.7868, -16.0487) construction
  spline S0 degree 2 poles (12.5423, -20.2752) (12.5423, -20.73) (12.1962, -21.427) (11.9095, -21.6544) knots 0 0 0 1 2 2 2
  spline S1 degree 2 poles (11.9095, -21.6544) (11.5635, -21.9213) (10.7775, -22.1487) (10.1547, -22.1487) knots 0 0 0 1 2 2 2
  line L4 (10.1547, -22.1487) -> (8.4047, -22.1487)
  line L5 (8.4047, -22.1487) -> (8.4047, -16.0487)
  line L6 (8.4047, -16.0487) -> (10.0212, -16.0487)
  spline S2 degree 2 poles (10.0212, -16.0487) (10.6737, -16.0487) (11.3262, -16.1327) (11.6228, -16.2959) knots 0 0 0 1 2 2 2
  spline S3 degree 2 poles (11.6228, -16.2959) (11.954, -16.4689) (12.2556, -17.0374) (12.2556, -17.4229) knots 0 0 0 1 2 2 2
  spline S4 degree 2 poles (12.2556, -17.4229) (12.2556, -17.853) (11.8008, -18.5352) (11.4004, -18.728) knots 0 0 0 1 2 2 2
  line L7 (11.4004, -18.728) -> (11.4004, -18.7576)
  spline S5 degree 2 poles (11.4004, -18.7576) (11.9441, -18.9059) (12.5423, -19.6919) (12.5423, -20.2752) knots 0 0 0 1 2 2 2
  spline S6 degree 2 poles (11.697, -20.3098) (11.697, -19.9638) (11.4992, -19.5189) (11.2026, -19.3607) knots 0 0 0 1 2 2 2
  spline S7 degree 2 poles (11.2026, -19.3607) (11.0099, -19.2618) (10.5551, -19.2025) (10.1349, -19.2025) knots 0 0 0 1 2 2 2
  line L8 (10.1349, -19.2025) -> (9.2154, -19.2025)
  line L9 (9.2154, -19.2025) -> (9.2154, -21.4566)
  line L10 (9.2154, -21.4566) -> (9.8729, -21.4566)
  spline S8 degree 2 poles (9.8729, -21.4566) (10.4068, -21.4566) (11.0197, -21.3578) (11.257, -21.1996) knots 0 0 0 1 2 2 2
  spline S9 degree 2 poles (11.257, -21.1996) (11.4844, -21.0365) (11.697, -20.6311) (11.697, -20.3098) knots 0 0 0 1 2 2 2
  spline S10 degree 2 poles (11.4103, -17.5366) (11.4103, -17.3191) (11.262, -16.9929) (11.0988, -16.8989) knots 0 0 0 1 2 2 2
  spline S11 degree 2 poles (11.0988, -16.8989) (10.9011, -16.7902) (10.4216, -16.7408) (9.9915, -16.7408) knots 0 0 0 1 2 2 2
  line L11 (9.9915, -16.7408) -> (9.2154, -16.7408)
  line L12 (9.2154, -16.7408) -> (9.2154, -18.5253)
  line L13 (9.2154, -18.5253) -> (10.1349, -18.5253)
  spline S12 degree 2 poles (10.1349, -18.5253) (10.5155, -18.5253) (10.8764, -18.4462) (11.0692, -18.3226) knots 0 0 0 1 2 2 2
  spline S13 degree 2 poles (11.0692, -18.3226) (11.257, -18.204) (11.4103, -17.8233) (11.4103, -17.5366) knots 0 0 0 1 2 2 2
  line L14 (12.6906, -22.1487) -> (14.747, -16.0487)
  line L15 (14.747, -16.0487) -> (15.7455, -16.0487)
  line L16 (15.7455, -16.0487) -> (17.8019, -22.1487)
  line L17 (17.8019, -22.1487) -> (16.9467, -22.1487)
  line L18 (16.9467, -22.1487) -> (16.3931, -20.4433)
  line L19 (16.3931, -20.4433) -> (14.0648, -20.4433)
  line L20 (14.0648, -20.4433) -> (13.5111, -22.1487)
  line L21 (13.5111, -22.1487) -> (12.6906, -22.1487)
  line L22 (16.1706, -19.7512) -> (15.2265, -16.8792)
  line L23 (15.2265, -16.8792) -> (14.2872, -19.7512)
  line L24 (14.2872, -19.7512) -> (16.1706, -19.7512)
  line L25 (20.5059, -22.1487) -> (18.143, -22.1487)
  line L26 (18.143, -22.1487) -> (18.143, -21.5258)
  line L27 (18.143, -21.5258) -> (18.9191, -21.5258)
  line L28 (18.9191, -21.5258) -> (18.9191, -16.6716)
  line L29 (18.9191, -16.6716) -> (18.143, -16.6716)
  line L30 (18.143, -16.6716) -> (18.143, -16.0487)
  line L31 (18.143, -16.0487) -> (20.5059, -16.0487)
  line L32 (20.5059, -16.0487) -> (20.5059, -16.6716)
  line L33 (20.5059, -16.6716) -> (19.7298, -16.6716)
  line L34 (19.7298, -16.6716) -> (19.7298, -21.5258)
  line L35 (19.7298, -21.5258) -> (20.5059, -21.5258)
  line L36 (20.5059, -21.5258) -> (20.5059, -22.1487)
  line L37 (25.726, -22.1487) -> (24.7966, -22.1487)
  line L38 (24.7966, -22.1487) -> (23.3137, -19.7166)
  line L39 (23.3137, -19.7166) -> (21.801, -22.1487)
  line L40 (21.801, -22.1487) -> (20.9261, -22.1487)
  line L41 (20.9261, -22.1487) -> (22.8688, -19.0938)
  line L42 (22.8688, -19.0938) -> (20.9854, -16.0487)
  line L43 (20.9854, -16.0487) -> (21.9147, -16.0487)
  line L44 (21.9147, -16.0487) -> (23.368, -18.4363)
  line L45 (23.368, -18.4363) -> (24.851, -16.0487)
  line L46 (24.851, -16.0487) -> (25.726, -16.0487)
  line L47 (25.726, -16.0487) -> (23.8179, -19.0542)
  line L48 (23.8179, -19.0542) -> (25.726, -22.1487)
  point P0 (-7.1721, -2)
extrude "Extrusión30" cut sketch "Boceto40" against normal blind 0.5
sketch "Boceto41" plane through (8.6721, 1.0003, 0) normal (0, 1, 0) x (1, 0, 0)
  circle A0 centre (15, 56) radius 1.6
  circle A1 centre (15, 23) radius 1.6
  point P0 (-8.6721, 0)
  dimension "d155" = 3.2
  dimension "d156" = 3.2
extrude "Extrusión31" cut sketch "Boceto41" against normal blind 65.25
sketch "Boceto42" plane through (5.1721, 40.2641, -98.2) normal (-1, 0, 0) x (0, 0, 1)
  line L0 (9.7, -39.2638) -> (9.7, -34.2638)
  line L1 (9.7, -34.2638) -> (24.7, -34.2638)
  line L2 (24.7, -34.2638) -> (24.7, -39.2638)
  line L3 (9.7, -39.2638) -> (24.7, -39.2638)
  line L4 (0, -39.2638) -> (98.2, -39.2638) projected
  point P0 (98.2, -40.2641)
  point P1 (17.2, -27.608)
extrude "Extrusión32" cut sketch "Boceto42" against normal blind 6.25
sketch "Boceto43" plane through (5.1721, 40.2641, -98.2) normal (-1, 0, 0) x (0, 0, 1)
  line L0 (21.2, -10.7488) -> (93.2, -10.7488) projected
  line L1 (93.2, -10.7488) -> (40, -10.7488)
  line L2 (40, -10.7488) -> (40, -15.7488)
  line L3 (40, -15.7488) -> (93.2, -15.7488)
  line L4 (93.2, -15.7488) -> (93.2, -10.7488)
  line L5 (93.2, -35) -> (40, -35)
  line L6 (40, -35) -> (40, -30)
  line L7 (40, -30) -> (93.2, -30)
  line L8 (93.2, -30) -> (93.2, -35)
  line L9 (103, -15.7488) -> (118.5563, -15.7488) construction
  point P0 (98.2, -40.2641)
  point P1 (22.2, -10.7488)
  dimension "d164" = 5
  dimension "d165" = 5
sketch "Boceto44" plane through (0, 0, 4) normal (0, 0, 1) x (1, 0, 0)
  line L0 (5.1721, -2) -> (5.1721, 40.2641) projected
  line L1 (5.1721, 19.1321) -> (16, 6.2278)
  line L2 (5.1721, 19.1321) -> (22.0173, 19.1321) construction
  point P0 (0, 0)
  dimension "d167" = 50
sweep "Barrido1" cut profiles "Boceto43" path "Boceto44" path curves L1
sketch "Boceto45" plane through (7.1721, -2, 2) normal (0, -1, 0) x (1, 0, 0)
  line L0 (4.0953, -60.2) -> (8.2908, -60.2)
  line L1 (8.2908, -7) -> (4.0953, -7)
  line L2 (8.2908, -7) -> (0, -7)
  line L3 (0, -7) -> (0, -60.2)
  line L4 (0, -60.2) -> (8.2908, -60.2)
  line L5 (8.2908, -60.2) -> (8.2908, -7)
  point P0 (-7.1721, -2)
extrude "Extrusión33" add sketch "Boceto45" against normal blind 3
ref_plane "Plano de trabajo3" through (6.9221, 1.0003, -88.5) normal (0, 1, 0) x (1, 0, 0)
sketch "Boceto47" plane through (6.9221, 1.0003, -88.5) normal (0, 1, 0) x (1, 0, 0)
  line L0 (-1.75, -92.5) -> (-1.75, 18.7) projected
  line L1 (-1.75, -92.5) -> (35, -92.5)
  line L2 (35, -92.5) -> (35, 18.7)
  line L3 (35, 18.7) -> (-1.75, 18.7)
  line L4 (-1.75, 18.7) -> (-1.75, -92.5)
  point P0 (-6.9221, -88.5)
extrude "Extrusión34" cut sketch "Boceto47" along normal blind 79.25
sketch "Boceto48" plane through (42, -2, 4) normal (1, 0, 0) x (0, 0, -1)
  line L0 (0, 0) -> (111.2, 0) projected
  line L1 (0, 0) -> (0, 4.2425) projected
  line L2 (111.2, 0) -> (0, 0)
  line L3 (0, 0) -> (0, 4.2425)
  line L4 (111.2, 4.2425) -> (111.2, 0)
  line L5 (0, 3.0003) -> (111.2, 3.0003) projected
  line L6 (111.2, 3.0003) -> (111.2, 0) projected
  line L7 (0, 3.0003) -> (111.2, 3.0003)
  point P0 (4, 2)
extrude "Extrusión35" add sketch "Boceto48" along normal blind 12
properties part number "Suport - pantalla i potenciometre tapa"
